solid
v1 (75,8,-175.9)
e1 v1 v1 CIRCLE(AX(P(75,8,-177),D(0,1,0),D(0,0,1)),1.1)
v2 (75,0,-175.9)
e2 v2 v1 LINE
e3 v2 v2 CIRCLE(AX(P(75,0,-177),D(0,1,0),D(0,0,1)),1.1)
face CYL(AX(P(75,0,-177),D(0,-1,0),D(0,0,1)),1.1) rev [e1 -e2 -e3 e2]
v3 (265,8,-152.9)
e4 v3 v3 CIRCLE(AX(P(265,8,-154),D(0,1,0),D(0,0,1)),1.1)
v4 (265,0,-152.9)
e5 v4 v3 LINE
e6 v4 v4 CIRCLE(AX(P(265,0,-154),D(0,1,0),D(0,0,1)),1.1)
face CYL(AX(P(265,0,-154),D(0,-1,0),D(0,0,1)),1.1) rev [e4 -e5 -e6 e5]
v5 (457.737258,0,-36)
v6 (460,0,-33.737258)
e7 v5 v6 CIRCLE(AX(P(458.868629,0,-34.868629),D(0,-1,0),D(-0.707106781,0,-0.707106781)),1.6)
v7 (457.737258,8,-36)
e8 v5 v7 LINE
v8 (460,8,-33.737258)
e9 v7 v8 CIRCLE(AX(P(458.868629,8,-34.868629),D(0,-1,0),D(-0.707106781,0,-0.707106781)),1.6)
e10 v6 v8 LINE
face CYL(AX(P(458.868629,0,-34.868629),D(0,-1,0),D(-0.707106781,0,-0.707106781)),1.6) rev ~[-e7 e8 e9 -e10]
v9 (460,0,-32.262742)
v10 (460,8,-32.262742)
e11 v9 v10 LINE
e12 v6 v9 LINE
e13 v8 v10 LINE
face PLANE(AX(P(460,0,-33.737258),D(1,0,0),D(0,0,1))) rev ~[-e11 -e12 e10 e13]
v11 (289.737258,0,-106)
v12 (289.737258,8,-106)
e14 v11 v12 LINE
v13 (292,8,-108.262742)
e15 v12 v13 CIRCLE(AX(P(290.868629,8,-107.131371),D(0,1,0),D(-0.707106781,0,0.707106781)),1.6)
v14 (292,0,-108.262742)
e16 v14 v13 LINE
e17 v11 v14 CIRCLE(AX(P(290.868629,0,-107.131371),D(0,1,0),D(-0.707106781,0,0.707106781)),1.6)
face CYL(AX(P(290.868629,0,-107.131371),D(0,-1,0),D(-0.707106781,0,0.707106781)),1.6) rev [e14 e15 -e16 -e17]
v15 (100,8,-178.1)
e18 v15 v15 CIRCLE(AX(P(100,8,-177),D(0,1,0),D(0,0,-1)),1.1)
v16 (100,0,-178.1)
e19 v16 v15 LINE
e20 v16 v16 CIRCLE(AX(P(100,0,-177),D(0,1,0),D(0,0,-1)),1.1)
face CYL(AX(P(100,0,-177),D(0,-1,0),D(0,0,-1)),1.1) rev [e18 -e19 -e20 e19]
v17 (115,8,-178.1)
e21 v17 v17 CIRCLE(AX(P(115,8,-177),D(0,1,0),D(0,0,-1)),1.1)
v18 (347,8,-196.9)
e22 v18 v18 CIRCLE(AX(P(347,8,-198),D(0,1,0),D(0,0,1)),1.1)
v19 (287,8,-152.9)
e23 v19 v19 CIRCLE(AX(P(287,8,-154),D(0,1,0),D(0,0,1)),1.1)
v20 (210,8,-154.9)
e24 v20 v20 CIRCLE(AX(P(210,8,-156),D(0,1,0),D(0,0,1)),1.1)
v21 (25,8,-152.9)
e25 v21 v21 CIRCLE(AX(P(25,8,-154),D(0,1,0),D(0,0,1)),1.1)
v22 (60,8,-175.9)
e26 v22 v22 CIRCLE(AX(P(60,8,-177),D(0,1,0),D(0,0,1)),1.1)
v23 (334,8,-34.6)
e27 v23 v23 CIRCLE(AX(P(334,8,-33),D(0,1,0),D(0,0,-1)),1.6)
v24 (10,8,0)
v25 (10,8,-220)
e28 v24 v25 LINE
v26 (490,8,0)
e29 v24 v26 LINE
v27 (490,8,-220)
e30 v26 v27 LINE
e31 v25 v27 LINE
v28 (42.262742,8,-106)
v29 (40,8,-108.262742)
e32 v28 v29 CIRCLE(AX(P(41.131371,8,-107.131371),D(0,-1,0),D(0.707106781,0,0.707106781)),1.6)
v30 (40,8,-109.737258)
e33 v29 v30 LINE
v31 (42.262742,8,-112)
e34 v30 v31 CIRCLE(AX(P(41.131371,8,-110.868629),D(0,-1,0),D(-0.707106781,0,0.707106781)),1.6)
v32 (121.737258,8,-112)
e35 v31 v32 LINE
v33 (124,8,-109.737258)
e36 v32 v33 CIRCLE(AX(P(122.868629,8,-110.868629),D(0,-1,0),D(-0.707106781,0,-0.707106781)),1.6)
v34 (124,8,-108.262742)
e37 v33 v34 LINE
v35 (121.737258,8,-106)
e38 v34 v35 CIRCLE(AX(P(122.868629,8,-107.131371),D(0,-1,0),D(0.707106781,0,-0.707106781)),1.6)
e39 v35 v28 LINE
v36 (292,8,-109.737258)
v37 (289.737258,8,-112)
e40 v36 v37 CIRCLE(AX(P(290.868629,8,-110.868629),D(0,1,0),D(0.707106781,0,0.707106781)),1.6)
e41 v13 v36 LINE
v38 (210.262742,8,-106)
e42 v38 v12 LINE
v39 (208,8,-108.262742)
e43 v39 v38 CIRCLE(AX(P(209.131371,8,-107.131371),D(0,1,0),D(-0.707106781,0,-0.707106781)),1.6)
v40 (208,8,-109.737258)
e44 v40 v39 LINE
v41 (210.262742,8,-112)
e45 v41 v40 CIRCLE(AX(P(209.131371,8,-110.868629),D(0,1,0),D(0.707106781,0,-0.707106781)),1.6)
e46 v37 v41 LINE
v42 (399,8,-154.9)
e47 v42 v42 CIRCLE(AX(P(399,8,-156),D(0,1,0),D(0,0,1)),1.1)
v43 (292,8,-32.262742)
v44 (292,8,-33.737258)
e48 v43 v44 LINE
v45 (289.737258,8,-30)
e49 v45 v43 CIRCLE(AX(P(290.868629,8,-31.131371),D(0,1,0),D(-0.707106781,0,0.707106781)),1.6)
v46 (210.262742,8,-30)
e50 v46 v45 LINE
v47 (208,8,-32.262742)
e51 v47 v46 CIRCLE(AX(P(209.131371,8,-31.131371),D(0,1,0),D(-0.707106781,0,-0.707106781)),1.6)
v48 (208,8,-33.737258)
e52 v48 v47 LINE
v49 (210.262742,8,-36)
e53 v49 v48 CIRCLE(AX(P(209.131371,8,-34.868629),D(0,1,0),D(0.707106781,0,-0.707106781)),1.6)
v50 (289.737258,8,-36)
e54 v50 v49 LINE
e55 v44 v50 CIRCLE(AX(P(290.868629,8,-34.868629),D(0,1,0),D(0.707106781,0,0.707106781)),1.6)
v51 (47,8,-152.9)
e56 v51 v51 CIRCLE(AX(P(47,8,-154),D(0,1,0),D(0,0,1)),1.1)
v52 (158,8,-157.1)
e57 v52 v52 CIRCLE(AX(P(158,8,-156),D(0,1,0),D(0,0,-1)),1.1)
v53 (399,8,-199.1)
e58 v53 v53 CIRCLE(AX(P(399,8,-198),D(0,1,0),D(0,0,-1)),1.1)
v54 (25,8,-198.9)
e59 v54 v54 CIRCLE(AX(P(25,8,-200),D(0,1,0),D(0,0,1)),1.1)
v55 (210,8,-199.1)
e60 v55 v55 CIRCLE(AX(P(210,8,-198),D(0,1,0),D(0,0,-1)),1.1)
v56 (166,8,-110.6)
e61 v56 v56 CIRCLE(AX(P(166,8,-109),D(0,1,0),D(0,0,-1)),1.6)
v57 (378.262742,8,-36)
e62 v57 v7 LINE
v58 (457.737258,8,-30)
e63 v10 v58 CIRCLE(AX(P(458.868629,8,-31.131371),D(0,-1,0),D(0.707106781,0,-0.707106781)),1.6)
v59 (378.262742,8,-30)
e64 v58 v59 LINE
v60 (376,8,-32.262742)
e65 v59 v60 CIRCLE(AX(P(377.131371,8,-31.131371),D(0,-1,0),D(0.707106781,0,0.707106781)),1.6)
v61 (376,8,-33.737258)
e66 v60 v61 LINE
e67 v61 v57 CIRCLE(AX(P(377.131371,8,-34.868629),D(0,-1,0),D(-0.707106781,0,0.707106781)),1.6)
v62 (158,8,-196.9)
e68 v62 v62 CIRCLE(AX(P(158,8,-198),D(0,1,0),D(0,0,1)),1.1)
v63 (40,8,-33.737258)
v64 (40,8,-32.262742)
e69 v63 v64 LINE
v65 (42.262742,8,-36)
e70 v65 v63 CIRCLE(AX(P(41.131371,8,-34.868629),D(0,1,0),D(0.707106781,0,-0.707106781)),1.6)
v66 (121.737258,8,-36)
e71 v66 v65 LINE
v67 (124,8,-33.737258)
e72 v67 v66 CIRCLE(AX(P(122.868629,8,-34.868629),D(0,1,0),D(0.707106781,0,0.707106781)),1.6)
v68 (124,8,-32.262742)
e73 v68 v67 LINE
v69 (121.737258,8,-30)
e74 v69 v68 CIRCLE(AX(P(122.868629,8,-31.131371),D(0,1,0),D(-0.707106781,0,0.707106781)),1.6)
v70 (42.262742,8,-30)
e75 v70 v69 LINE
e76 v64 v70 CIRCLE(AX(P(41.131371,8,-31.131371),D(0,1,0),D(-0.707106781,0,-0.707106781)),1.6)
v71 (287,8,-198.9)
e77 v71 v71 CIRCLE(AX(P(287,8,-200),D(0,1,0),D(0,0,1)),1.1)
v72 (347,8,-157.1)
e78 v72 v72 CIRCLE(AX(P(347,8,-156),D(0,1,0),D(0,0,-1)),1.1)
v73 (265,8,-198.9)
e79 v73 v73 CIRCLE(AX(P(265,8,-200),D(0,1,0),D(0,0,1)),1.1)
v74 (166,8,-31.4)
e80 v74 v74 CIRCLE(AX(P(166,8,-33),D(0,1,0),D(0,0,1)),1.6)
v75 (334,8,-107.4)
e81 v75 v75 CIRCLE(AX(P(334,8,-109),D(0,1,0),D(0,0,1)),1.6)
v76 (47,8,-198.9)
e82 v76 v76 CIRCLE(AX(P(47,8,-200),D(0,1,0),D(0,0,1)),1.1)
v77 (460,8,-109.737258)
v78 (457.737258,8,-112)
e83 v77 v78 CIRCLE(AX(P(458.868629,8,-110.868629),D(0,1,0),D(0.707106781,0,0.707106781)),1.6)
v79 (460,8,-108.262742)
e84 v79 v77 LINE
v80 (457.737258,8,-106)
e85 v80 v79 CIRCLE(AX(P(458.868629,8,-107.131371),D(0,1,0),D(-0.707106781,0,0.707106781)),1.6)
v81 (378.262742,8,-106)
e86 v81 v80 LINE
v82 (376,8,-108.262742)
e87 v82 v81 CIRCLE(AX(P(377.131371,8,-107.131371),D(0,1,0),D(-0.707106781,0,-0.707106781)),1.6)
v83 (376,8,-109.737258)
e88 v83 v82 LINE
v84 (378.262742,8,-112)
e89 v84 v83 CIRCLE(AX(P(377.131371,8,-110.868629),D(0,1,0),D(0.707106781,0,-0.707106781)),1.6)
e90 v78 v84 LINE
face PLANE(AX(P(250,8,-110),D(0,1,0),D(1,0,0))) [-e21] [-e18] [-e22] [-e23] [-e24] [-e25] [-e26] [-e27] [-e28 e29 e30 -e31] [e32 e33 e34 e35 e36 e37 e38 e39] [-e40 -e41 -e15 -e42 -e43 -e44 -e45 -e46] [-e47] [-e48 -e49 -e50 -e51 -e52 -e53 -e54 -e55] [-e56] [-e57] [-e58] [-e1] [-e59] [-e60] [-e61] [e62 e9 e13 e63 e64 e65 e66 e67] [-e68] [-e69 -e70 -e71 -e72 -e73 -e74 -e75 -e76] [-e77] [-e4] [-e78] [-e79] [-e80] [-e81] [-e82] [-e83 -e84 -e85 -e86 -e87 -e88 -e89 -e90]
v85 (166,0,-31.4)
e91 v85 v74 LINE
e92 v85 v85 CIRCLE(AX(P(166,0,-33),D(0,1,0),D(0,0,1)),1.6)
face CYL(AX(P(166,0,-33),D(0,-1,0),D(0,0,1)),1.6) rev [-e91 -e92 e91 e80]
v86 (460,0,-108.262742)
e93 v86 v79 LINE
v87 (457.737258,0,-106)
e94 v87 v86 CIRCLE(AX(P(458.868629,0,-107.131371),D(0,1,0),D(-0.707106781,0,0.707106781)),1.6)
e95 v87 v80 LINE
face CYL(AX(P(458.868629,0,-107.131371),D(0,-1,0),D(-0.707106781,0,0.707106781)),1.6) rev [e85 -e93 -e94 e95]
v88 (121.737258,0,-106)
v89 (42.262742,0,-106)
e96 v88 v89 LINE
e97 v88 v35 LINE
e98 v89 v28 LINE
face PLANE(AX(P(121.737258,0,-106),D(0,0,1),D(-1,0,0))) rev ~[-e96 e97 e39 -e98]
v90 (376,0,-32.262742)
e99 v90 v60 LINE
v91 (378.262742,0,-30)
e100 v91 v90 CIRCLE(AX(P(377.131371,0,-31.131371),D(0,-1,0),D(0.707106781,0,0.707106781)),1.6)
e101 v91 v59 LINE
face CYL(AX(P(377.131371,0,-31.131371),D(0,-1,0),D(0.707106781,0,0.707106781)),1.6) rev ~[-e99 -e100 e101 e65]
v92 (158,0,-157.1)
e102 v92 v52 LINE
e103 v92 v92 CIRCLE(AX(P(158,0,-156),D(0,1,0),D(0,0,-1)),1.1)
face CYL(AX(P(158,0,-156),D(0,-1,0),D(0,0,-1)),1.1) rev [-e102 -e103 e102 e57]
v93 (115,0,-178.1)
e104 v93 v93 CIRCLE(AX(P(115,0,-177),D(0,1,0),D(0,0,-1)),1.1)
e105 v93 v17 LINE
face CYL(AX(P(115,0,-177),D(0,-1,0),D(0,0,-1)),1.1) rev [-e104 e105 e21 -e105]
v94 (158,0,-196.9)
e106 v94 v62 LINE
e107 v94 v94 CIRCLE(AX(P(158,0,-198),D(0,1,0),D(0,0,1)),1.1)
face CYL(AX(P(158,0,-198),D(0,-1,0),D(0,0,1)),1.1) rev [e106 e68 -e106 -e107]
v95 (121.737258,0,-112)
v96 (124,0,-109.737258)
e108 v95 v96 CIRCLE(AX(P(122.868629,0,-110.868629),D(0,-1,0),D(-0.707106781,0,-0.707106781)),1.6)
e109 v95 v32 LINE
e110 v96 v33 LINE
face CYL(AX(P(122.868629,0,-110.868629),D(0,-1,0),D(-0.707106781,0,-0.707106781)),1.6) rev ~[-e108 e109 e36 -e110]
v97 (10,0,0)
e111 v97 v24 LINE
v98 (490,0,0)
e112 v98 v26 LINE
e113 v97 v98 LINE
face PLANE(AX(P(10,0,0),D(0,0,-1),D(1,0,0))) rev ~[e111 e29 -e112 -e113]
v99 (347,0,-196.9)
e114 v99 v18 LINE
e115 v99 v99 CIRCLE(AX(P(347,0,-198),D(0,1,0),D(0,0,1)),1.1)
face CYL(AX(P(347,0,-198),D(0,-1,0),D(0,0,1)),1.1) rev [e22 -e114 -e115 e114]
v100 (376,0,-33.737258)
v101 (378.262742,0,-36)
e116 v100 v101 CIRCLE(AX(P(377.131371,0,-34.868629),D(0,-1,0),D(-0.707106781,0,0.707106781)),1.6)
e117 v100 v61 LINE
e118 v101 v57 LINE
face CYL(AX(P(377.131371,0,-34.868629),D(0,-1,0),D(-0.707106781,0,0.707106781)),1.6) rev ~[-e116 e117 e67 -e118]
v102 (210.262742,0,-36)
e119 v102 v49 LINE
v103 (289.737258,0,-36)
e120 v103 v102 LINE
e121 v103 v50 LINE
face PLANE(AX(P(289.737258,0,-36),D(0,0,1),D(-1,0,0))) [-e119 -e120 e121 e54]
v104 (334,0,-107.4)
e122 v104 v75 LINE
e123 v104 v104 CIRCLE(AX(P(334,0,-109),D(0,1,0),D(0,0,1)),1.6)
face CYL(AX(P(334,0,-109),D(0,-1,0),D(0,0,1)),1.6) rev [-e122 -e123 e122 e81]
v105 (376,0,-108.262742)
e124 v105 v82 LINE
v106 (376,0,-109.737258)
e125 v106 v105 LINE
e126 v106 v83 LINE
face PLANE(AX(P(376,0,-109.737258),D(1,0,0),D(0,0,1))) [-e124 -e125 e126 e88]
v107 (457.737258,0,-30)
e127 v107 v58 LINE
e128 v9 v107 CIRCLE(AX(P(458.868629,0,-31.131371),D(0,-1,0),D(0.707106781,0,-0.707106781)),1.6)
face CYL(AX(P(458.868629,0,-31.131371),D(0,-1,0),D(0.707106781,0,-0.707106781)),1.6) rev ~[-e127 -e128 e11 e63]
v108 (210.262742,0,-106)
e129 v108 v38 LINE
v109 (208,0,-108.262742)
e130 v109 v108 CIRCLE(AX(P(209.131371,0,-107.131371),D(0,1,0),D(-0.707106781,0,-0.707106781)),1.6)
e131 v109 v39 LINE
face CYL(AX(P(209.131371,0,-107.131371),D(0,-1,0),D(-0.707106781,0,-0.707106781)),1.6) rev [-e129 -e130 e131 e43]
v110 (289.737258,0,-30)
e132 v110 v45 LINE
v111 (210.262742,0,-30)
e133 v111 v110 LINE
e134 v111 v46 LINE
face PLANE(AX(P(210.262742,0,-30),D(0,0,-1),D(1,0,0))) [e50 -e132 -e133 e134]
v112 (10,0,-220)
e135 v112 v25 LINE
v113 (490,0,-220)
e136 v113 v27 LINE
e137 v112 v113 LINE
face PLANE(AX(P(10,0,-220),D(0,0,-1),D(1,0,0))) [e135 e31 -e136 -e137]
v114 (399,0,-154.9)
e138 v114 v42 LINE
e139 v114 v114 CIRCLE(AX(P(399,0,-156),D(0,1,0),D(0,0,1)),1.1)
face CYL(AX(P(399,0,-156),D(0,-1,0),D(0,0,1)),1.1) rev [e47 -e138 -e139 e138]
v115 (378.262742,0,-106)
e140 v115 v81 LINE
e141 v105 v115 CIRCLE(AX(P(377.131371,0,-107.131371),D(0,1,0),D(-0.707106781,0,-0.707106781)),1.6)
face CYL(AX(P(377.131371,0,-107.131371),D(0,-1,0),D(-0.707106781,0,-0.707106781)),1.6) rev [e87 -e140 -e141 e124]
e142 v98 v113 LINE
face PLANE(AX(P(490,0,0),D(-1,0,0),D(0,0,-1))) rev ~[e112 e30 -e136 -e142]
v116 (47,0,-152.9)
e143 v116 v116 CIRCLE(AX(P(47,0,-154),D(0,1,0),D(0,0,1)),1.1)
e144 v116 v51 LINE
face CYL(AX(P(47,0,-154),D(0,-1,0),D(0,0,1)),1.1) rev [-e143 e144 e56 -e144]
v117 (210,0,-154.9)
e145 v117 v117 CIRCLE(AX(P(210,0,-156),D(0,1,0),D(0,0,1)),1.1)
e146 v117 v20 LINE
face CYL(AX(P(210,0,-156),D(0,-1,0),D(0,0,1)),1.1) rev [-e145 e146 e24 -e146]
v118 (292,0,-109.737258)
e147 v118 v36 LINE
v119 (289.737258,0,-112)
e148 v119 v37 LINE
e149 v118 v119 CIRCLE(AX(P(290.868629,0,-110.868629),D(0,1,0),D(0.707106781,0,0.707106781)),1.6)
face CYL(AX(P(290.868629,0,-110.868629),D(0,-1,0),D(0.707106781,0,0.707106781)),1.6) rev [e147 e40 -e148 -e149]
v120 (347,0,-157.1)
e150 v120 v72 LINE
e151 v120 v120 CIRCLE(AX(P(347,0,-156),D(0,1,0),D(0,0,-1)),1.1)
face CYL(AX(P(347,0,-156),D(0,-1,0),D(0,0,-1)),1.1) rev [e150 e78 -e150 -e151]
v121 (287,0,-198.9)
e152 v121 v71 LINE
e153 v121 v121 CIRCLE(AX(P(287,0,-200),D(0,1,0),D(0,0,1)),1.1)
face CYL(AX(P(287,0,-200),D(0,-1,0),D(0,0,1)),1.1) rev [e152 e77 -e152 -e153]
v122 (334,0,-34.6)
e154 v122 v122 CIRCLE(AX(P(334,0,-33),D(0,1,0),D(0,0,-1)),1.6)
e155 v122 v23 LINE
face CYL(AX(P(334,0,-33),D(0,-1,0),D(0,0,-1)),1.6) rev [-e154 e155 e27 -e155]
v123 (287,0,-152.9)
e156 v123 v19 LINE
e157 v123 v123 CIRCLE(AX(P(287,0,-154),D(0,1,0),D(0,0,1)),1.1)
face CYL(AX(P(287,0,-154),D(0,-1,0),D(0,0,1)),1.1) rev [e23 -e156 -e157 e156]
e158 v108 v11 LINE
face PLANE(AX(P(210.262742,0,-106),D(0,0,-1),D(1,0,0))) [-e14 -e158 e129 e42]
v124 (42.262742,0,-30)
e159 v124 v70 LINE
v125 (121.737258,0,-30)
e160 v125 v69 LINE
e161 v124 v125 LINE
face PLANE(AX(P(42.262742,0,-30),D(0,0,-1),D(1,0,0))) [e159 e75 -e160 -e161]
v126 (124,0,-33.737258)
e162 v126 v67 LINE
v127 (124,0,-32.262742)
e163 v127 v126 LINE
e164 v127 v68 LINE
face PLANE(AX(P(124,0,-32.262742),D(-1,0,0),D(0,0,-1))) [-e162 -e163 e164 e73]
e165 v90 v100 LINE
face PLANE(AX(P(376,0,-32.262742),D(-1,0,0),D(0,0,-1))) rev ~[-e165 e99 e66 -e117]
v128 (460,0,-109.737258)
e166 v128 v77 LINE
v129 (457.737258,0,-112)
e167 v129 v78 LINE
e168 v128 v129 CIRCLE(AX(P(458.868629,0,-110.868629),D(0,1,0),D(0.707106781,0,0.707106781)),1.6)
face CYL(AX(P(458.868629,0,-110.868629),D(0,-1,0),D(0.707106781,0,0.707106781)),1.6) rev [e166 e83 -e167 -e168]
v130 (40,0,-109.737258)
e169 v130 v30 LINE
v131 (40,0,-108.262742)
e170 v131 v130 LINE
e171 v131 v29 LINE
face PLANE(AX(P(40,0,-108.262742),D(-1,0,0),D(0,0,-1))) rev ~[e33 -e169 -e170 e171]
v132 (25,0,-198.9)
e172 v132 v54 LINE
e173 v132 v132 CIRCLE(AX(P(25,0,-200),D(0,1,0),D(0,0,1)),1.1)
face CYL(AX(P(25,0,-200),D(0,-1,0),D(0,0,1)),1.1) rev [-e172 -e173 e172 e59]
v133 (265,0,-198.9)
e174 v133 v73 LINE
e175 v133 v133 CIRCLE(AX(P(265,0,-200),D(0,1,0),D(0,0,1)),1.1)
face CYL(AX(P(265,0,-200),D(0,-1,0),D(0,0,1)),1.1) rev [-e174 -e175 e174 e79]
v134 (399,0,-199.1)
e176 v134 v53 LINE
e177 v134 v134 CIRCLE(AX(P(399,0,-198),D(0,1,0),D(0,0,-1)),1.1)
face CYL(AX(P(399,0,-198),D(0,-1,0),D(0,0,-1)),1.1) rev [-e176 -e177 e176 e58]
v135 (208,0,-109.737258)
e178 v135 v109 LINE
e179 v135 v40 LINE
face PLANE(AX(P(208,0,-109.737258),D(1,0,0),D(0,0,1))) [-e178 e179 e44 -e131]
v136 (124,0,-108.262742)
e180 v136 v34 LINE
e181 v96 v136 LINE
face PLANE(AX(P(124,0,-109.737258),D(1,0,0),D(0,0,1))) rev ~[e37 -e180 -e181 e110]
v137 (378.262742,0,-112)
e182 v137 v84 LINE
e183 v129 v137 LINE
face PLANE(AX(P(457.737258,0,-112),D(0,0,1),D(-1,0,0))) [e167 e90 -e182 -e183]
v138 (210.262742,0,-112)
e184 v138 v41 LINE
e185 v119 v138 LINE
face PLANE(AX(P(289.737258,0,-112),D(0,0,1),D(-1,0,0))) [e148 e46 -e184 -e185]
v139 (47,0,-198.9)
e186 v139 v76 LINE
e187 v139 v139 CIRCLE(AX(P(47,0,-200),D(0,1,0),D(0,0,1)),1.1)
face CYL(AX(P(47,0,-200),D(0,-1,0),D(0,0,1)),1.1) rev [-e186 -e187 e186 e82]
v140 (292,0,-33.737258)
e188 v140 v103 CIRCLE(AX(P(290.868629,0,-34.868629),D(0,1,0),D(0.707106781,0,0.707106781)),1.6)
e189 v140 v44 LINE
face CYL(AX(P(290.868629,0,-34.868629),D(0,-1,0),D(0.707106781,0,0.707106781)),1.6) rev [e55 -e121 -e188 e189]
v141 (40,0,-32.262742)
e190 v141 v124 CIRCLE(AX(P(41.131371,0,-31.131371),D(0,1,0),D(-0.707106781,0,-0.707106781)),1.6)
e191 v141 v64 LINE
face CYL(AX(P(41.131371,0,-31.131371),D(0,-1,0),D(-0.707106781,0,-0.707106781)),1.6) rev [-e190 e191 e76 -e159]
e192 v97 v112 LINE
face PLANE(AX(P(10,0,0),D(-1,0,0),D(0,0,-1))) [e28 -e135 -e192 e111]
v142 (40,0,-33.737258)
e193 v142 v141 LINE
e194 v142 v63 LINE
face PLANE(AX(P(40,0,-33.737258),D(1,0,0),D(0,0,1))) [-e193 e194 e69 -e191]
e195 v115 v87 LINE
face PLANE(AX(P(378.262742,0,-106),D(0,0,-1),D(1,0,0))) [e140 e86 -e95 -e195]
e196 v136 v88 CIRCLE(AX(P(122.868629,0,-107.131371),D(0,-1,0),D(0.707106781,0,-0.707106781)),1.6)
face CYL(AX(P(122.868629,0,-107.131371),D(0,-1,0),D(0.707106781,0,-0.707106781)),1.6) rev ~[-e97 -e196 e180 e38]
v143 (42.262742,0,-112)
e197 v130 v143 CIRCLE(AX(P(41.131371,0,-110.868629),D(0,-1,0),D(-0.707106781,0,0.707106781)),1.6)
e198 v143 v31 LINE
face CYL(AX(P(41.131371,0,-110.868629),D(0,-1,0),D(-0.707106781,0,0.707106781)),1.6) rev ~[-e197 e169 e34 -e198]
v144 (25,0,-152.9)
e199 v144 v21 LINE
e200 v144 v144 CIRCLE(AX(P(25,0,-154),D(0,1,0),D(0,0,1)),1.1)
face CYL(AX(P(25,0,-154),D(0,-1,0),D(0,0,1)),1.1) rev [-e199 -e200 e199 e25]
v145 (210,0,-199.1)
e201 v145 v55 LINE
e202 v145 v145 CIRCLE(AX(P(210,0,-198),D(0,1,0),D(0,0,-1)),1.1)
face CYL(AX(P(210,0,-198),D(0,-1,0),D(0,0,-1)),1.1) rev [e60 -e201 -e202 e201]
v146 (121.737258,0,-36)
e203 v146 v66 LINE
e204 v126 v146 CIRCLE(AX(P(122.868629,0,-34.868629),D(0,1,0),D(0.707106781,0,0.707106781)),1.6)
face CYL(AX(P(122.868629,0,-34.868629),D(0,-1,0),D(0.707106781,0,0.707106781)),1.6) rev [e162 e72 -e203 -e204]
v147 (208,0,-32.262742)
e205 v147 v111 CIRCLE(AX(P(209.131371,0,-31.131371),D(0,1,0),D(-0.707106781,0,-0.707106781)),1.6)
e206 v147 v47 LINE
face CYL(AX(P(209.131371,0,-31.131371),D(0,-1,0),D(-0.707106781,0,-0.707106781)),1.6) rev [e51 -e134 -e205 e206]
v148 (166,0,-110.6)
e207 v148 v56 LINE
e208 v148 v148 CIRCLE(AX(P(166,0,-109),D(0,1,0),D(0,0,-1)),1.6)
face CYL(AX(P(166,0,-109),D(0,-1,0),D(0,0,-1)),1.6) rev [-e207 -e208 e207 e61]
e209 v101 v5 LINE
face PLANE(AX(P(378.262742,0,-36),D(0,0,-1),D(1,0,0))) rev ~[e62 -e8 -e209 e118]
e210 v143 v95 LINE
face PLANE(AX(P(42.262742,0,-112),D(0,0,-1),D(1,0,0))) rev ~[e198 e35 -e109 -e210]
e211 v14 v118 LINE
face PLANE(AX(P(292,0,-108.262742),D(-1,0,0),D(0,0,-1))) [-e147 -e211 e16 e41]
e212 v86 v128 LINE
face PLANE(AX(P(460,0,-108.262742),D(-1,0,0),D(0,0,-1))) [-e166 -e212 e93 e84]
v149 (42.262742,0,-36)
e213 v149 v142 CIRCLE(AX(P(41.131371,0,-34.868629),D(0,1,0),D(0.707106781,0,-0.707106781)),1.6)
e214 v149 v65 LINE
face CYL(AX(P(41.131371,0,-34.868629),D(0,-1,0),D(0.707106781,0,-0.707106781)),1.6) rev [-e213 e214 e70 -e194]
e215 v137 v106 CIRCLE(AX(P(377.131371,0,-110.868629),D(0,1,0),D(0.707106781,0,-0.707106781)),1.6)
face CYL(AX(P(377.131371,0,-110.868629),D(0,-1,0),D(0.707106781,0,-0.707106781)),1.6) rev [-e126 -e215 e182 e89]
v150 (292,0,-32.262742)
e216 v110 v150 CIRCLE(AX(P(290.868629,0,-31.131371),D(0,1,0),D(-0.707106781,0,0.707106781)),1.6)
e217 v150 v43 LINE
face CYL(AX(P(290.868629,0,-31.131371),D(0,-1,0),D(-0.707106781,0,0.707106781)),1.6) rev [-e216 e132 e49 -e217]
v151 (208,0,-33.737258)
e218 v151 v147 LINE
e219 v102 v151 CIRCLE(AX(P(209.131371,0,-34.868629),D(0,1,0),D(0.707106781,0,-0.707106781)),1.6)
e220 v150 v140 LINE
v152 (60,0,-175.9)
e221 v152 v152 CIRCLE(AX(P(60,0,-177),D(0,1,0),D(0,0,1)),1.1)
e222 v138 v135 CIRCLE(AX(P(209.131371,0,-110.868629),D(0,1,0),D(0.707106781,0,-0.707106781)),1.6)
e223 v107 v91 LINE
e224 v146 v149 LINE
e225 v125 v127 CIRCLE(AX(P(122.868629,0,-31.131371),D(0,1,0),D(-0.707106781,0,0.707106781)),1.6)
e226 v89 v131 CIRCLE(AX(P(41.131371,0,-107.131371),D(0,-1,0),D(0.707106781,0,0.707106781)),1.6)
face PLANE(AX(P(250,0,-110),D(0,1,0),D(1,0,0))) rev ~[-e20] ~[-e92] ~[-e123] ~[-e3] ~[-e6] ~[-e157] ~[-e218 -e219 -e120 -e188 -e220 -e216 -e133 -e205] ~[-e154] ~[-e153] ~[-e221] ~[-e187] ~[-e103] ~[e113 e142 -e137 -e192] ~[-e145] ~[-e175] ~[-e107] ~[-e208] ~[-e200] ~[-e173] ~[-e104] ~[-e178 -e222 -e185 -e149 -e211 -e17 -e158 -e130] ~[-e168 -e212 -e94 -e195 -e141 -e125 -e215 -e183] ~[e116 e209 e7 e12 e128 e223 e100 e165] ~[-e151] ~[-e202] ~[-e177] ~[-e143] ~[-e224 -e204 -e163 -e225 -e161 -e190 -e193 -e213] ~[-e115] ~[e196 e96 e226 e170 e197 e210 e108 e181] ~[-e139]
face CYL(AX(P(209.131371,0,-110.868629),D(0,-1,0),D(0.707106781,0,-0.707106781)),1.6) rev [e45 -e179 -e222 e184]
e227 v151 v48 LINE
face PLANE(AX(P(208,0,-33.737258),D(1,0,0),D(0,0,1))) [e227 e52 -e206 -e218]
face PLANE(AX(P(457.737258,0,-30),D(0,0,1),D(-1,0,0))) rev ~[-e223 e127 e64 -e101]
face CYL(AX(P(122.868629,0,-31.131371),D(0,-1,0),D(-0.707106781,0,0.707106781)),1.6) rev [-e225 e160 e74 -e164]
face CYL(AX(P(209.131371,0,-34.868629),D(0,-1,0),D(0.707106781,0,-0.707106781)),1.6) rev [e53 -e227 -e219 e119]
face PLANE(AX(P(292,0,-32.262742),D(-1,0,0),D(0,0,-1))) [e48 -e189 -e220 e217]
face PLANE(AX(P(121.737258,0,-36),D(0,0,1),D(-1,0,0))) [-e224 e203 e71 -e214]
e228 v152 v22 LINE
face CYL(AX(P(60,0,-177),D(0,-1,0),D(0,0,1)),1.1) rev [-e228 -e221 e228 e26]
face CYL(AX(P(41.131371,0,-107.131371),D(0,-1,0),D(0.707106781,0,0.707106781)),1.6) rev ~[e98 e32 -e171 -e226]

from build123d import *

# Parameters (mm, degrees)
ESQUISSE1_W        = 480
ESQUISSE1_H        = 220
ESQUISSE1_R        = 1.6
ESQUISSE1_R_2      = 1.1
BOSS_EXTRU_1_DEPTH = 8


with BuildPart() as part:
    # Esquisse1 → Boss.-Extru.1 (new body)
    with BuildSketch(Plane(origin=(0, 0, 0), x_dir=(1, 0, 0), z_dir=(0, 1, 0))):
        with Locations((250, 110)):
            Rectangle(ESQUISSE1_W, ESQUISSE1_H)
        with Locations(Location((166, 33, 0), (0, 0, 270))):  # turned: the seam where the file's is
            Circle(ESQUISSE1_R, mode=Mode.SUBTRACT)
        with Locations(Location((334, 33, 0), (0, 0, 90))):  # turned: the seam where the file's is
            Circle(ESQUISSE1_R, mode=Mode.SUBTRACT)
        with Locations(Location((334, 109, 0), (0, 0, 270))):  # turned: the seam where the file's is
            Circle(ESQUISSE1_R, mode=Mode.SUBTRACT)
        with Locations(Location((166, 109, 0), (0, 0, 90))):  # turned: the seam where the file's is
            Circle(ESQUISSE1_R, mode=Mode.SUBTRACT)
        with Locations(Location((158, 198, 0), (0, 0, 270))):  # turned: the seam where the file's is
            Circle(ESQUISSE1_R_2, mode=Mode.SUBTRACT)
        with Locations(Location((210, 198, 0), (0, 0, 90))):  # turned: the seam where the file's is
            Circle(ESQUISSE1_R_2, mode=Mode.SUBTRACT)
        with Locations(Location((210, 156, 0), (0, 0, 270))):  # turned: the seam where the file's is
            Circle(ESQUISSE1_R_2, mode=Mode.SUBTRACT)
        with Locations(Location((158, 156, 0), (0, 0, 90))):  # turned: the seam where the file's is
            Circle(ESQUISSE1_R_2, mode=Mode.SUBTRACT)
        with Locations(Location((60, 177, 0), (0, 0, 270))):  # turned: the seam where the file's is
            Circle(ESQUISSE1_R_2, mode=Mode.SUBTRACT)
        with Locations(Location((75, 177, 0), (0, 0, 270))):  # turned: the seam where the file's is
            Circle(ESQUISSE1_R_2, mode=Mode.SUBTRACT)
        with Locations(Location((100, 177, 0), (0, 0, 90))):  # turned: the seam where the file's is
            Circle(ESQUISSE1_R_2, mode=Mode.SUBTRACT)
        with Locations(Location((115, 177, 0), (0, 0, 90))):  # turned: the seam where the file's is
            Circle(ESQUISSE1_R_2, mode=Mode.SUBTRACT)
        with Locations(Location((25, 200, 0), (0, 0, 270))):  # turned: the seam where the file's is
            Circle(ESQUISSE1_R_2, mode=Mode.SUBTRACT)
        with Locations(Location((47, 200, 0), (0, 0, 270))):  # turned: the seam where the file's is
            Circle(ESQUISSE1_R_2, mode=Mode.SUBTRACT)
        with Locations(Location((47, 154, 0), (0, 0, 270))):  # turned: the seam where the file's is
            Circle(ESQUISSE1_R_2, mode=Mode.SUBTRACT)
        with Locations(Location((25, 154, 0), (0, 0, 270))):  # turned: the seam where the file's is
            Circle(ESQUISSE1_R_2, mode=Mode.SUBTRACT)
        with Locations(Location((287, 200, 0), (0, 0, 270))):  # turned: the seam where the file's is
            Circle(ESQUISSE1_R_2, mode=Mode.SUBTRACT)
        with Locations(Location((287, 154, 0), (0, 0, 270))):  # turned: the seam where the file's is
            Circle(ESQUISSE1_R_2, mode=Mode.SUBTRACT)
        with Locations(Location((265, 200, 0), (0, 0, 270))):  # turned: the seam where the file's is
            Circle(ESQUISSE1_R_2, mode=Mode.SUBTRACT)
        with Locations(Location((265, 154, 0), (0, 0, 270))):  # turned: the seam where the file's is
            Circle(ESQUISSE1_R_2, mode=Mode.SUBTRACT)
        with Locations(Location((399, 156, 0), (0, 0, 270))):  # turned: the seam where the file's is
            Circle(ESQUISSE1_R_2, mode=Mode.SUBTRACT)
        with Locations(Location((347, 198, 0), (0, 0, 270))):  # turned: the seam where the file's is
            Circle(ESQUISSE1_R_2, mode=Mode.SUBTRACT)
        with Locations(Location((347, 156, 0), (0, 0, 90))):  # turned: the seam where the file's is
            Circle(ESQUISSE1_R_2, mode=Mode.SUBTRACT)
        with Locations(Location((399, 198, 0), (0, 0, 90))):  # turned: the seam where the file's is
            Circle(ESQUISSE1_R_2, mode=Mode.SUBTRACT)
        with BuildLine():
            Line((40, 33.7372583), (40, 32.2627417))
            ThreePointArc((40, 32.2627417), (40, 30), (42.2627417, 30))
            Line((42.2627417, 30), (121.7372583, 30))
            ThreePointArc((121.7372583, 30), (124, 30), (124, 32.2627417))
            Line((124, 32.2627417), (124, 33.7372583))
            ThreePointArc((124, 33.7372583), (124, 36), (121.7372583, 36))
            Line((121.7372583, 36), (42.2627417, 36))
            ThreePointArc((42.2627417, 36), (40, 36), (40, 33.7372583))
        make_face(mode=Mode.SUBTRACT)
        with BuildLine():
            Line((378.2627417, 36), (457.7372583, 36))
            ThreePointArc((457.7372583, 36), (460, 36), (460, 33.7372583))
            Line((460, 33.7372583), (460, 32.2627417))
            ThreePointArc((460, 32.2627417), (460, 30), (457.7372583, 30))
            Line((457.7372583, 30), (378.2627417, 30))
            ThreePointArc((378.2627417, 30), (376, 30), (376, 32.2627417))
            Line((376, 32.2627417), (376, 33.7372583))
            ThreePointArc((376, 33.7372583), (376, 36), (378.2627417, 36))
        make_face(mode=Mode.SUBTRACT)
        with BuildLine():
            Line((208, 33.7372583), (208, 32.2627417))
            ThreePointArc((208, 32.2627417), (208, 30), (210.2627417, 30))
            Line((210.2627417, 30), (289.7372583, 30))
            ThreePointArc((289.7372583, 30), (292, 30), (292, 32.2627417))
            Line((292, 32.2627417), (292, 33.7372583))
            ThreePointArc((292, 33.7372583), (292, 36), (289.7372583, 36))
            Line((289.7372583, 36), (210.2627417, 36))
            ThreePointArc((210.2627417, 36), (208, 36), (208, 33.7372583))
        make_face(mode=Mode.SUBTRACT)
        with BuildLine():
            Line((289.7372583, 112), (210.2627417, 112))
            ThreePointArc((210.2627417, 112), (208, 112), (208, 109.7372583))
            Line((208, 109.7372583), (208, 108.2627417))
            ThreePointArc((208, 108.2627417), (208, 106), (210.2627417, 106))
            Line((210.2627417, 106), (289.7372583, 106))
            ThreePointArc((289.7372583, 106), (292, 106), (292, 108.2627417))
            Line((292, 108.2627417), (292, 109.7372583))
            ThreePointArc((292, 109.7372583), (292, 112), (289.7372583, 112))
        make_face(mode=Mode.SUBTRACT)
        with BuildLine():
            Line((460, 108.2627417), (460, 109.7372583))
            ThreePointArc((460, 109.7372583), (460, 112), (457.7372583, 112))
            Line((457.7372583, 112), (378.2627417, 112))
            ThreePointArc((378.2627417, 112), (376, 112), (376, 109.7372583))
            Line((376, 109.7372583), (376, 108.2627417))
            ThreePointArc((376, 108.2627417), (376, 106), (378.2627417, 106))
            Line((378.2627417, 106), (457.7372583, 106))
            ThreePointArc((457.7372583, 106), (460, 106), (460, 108.2627417))
        make_face(mode=Mode.SUBTRACT)
        with BuildLine():
            Line((121.7372583, 106), (42.2627417, 106))
            ThreePointArc((42.2627417, 106), (40, 106), (40, 108.2627417))
            Line((40, 108.2627417), (40, 109.7372583))
            ThreePointArc((40, 109.7372583), (40, 112), (42.2627417, 112))
            Line((42.2627417, 112), (121.7372583, 112))
            ThreePointArc((121.7372583, 112), (124, 112), (124, 109.7372583))
            Line((124, 109.7372583), (124, 108.2627417))
            ThreePointArc((124, 108.2627417), (124, 106), (121.7372583, 106))
        make_face(mode=Mode.SUBTRACT)
    extrude(amount=BOSS_EXTRU_1_DEPTH)


solid = part.part
